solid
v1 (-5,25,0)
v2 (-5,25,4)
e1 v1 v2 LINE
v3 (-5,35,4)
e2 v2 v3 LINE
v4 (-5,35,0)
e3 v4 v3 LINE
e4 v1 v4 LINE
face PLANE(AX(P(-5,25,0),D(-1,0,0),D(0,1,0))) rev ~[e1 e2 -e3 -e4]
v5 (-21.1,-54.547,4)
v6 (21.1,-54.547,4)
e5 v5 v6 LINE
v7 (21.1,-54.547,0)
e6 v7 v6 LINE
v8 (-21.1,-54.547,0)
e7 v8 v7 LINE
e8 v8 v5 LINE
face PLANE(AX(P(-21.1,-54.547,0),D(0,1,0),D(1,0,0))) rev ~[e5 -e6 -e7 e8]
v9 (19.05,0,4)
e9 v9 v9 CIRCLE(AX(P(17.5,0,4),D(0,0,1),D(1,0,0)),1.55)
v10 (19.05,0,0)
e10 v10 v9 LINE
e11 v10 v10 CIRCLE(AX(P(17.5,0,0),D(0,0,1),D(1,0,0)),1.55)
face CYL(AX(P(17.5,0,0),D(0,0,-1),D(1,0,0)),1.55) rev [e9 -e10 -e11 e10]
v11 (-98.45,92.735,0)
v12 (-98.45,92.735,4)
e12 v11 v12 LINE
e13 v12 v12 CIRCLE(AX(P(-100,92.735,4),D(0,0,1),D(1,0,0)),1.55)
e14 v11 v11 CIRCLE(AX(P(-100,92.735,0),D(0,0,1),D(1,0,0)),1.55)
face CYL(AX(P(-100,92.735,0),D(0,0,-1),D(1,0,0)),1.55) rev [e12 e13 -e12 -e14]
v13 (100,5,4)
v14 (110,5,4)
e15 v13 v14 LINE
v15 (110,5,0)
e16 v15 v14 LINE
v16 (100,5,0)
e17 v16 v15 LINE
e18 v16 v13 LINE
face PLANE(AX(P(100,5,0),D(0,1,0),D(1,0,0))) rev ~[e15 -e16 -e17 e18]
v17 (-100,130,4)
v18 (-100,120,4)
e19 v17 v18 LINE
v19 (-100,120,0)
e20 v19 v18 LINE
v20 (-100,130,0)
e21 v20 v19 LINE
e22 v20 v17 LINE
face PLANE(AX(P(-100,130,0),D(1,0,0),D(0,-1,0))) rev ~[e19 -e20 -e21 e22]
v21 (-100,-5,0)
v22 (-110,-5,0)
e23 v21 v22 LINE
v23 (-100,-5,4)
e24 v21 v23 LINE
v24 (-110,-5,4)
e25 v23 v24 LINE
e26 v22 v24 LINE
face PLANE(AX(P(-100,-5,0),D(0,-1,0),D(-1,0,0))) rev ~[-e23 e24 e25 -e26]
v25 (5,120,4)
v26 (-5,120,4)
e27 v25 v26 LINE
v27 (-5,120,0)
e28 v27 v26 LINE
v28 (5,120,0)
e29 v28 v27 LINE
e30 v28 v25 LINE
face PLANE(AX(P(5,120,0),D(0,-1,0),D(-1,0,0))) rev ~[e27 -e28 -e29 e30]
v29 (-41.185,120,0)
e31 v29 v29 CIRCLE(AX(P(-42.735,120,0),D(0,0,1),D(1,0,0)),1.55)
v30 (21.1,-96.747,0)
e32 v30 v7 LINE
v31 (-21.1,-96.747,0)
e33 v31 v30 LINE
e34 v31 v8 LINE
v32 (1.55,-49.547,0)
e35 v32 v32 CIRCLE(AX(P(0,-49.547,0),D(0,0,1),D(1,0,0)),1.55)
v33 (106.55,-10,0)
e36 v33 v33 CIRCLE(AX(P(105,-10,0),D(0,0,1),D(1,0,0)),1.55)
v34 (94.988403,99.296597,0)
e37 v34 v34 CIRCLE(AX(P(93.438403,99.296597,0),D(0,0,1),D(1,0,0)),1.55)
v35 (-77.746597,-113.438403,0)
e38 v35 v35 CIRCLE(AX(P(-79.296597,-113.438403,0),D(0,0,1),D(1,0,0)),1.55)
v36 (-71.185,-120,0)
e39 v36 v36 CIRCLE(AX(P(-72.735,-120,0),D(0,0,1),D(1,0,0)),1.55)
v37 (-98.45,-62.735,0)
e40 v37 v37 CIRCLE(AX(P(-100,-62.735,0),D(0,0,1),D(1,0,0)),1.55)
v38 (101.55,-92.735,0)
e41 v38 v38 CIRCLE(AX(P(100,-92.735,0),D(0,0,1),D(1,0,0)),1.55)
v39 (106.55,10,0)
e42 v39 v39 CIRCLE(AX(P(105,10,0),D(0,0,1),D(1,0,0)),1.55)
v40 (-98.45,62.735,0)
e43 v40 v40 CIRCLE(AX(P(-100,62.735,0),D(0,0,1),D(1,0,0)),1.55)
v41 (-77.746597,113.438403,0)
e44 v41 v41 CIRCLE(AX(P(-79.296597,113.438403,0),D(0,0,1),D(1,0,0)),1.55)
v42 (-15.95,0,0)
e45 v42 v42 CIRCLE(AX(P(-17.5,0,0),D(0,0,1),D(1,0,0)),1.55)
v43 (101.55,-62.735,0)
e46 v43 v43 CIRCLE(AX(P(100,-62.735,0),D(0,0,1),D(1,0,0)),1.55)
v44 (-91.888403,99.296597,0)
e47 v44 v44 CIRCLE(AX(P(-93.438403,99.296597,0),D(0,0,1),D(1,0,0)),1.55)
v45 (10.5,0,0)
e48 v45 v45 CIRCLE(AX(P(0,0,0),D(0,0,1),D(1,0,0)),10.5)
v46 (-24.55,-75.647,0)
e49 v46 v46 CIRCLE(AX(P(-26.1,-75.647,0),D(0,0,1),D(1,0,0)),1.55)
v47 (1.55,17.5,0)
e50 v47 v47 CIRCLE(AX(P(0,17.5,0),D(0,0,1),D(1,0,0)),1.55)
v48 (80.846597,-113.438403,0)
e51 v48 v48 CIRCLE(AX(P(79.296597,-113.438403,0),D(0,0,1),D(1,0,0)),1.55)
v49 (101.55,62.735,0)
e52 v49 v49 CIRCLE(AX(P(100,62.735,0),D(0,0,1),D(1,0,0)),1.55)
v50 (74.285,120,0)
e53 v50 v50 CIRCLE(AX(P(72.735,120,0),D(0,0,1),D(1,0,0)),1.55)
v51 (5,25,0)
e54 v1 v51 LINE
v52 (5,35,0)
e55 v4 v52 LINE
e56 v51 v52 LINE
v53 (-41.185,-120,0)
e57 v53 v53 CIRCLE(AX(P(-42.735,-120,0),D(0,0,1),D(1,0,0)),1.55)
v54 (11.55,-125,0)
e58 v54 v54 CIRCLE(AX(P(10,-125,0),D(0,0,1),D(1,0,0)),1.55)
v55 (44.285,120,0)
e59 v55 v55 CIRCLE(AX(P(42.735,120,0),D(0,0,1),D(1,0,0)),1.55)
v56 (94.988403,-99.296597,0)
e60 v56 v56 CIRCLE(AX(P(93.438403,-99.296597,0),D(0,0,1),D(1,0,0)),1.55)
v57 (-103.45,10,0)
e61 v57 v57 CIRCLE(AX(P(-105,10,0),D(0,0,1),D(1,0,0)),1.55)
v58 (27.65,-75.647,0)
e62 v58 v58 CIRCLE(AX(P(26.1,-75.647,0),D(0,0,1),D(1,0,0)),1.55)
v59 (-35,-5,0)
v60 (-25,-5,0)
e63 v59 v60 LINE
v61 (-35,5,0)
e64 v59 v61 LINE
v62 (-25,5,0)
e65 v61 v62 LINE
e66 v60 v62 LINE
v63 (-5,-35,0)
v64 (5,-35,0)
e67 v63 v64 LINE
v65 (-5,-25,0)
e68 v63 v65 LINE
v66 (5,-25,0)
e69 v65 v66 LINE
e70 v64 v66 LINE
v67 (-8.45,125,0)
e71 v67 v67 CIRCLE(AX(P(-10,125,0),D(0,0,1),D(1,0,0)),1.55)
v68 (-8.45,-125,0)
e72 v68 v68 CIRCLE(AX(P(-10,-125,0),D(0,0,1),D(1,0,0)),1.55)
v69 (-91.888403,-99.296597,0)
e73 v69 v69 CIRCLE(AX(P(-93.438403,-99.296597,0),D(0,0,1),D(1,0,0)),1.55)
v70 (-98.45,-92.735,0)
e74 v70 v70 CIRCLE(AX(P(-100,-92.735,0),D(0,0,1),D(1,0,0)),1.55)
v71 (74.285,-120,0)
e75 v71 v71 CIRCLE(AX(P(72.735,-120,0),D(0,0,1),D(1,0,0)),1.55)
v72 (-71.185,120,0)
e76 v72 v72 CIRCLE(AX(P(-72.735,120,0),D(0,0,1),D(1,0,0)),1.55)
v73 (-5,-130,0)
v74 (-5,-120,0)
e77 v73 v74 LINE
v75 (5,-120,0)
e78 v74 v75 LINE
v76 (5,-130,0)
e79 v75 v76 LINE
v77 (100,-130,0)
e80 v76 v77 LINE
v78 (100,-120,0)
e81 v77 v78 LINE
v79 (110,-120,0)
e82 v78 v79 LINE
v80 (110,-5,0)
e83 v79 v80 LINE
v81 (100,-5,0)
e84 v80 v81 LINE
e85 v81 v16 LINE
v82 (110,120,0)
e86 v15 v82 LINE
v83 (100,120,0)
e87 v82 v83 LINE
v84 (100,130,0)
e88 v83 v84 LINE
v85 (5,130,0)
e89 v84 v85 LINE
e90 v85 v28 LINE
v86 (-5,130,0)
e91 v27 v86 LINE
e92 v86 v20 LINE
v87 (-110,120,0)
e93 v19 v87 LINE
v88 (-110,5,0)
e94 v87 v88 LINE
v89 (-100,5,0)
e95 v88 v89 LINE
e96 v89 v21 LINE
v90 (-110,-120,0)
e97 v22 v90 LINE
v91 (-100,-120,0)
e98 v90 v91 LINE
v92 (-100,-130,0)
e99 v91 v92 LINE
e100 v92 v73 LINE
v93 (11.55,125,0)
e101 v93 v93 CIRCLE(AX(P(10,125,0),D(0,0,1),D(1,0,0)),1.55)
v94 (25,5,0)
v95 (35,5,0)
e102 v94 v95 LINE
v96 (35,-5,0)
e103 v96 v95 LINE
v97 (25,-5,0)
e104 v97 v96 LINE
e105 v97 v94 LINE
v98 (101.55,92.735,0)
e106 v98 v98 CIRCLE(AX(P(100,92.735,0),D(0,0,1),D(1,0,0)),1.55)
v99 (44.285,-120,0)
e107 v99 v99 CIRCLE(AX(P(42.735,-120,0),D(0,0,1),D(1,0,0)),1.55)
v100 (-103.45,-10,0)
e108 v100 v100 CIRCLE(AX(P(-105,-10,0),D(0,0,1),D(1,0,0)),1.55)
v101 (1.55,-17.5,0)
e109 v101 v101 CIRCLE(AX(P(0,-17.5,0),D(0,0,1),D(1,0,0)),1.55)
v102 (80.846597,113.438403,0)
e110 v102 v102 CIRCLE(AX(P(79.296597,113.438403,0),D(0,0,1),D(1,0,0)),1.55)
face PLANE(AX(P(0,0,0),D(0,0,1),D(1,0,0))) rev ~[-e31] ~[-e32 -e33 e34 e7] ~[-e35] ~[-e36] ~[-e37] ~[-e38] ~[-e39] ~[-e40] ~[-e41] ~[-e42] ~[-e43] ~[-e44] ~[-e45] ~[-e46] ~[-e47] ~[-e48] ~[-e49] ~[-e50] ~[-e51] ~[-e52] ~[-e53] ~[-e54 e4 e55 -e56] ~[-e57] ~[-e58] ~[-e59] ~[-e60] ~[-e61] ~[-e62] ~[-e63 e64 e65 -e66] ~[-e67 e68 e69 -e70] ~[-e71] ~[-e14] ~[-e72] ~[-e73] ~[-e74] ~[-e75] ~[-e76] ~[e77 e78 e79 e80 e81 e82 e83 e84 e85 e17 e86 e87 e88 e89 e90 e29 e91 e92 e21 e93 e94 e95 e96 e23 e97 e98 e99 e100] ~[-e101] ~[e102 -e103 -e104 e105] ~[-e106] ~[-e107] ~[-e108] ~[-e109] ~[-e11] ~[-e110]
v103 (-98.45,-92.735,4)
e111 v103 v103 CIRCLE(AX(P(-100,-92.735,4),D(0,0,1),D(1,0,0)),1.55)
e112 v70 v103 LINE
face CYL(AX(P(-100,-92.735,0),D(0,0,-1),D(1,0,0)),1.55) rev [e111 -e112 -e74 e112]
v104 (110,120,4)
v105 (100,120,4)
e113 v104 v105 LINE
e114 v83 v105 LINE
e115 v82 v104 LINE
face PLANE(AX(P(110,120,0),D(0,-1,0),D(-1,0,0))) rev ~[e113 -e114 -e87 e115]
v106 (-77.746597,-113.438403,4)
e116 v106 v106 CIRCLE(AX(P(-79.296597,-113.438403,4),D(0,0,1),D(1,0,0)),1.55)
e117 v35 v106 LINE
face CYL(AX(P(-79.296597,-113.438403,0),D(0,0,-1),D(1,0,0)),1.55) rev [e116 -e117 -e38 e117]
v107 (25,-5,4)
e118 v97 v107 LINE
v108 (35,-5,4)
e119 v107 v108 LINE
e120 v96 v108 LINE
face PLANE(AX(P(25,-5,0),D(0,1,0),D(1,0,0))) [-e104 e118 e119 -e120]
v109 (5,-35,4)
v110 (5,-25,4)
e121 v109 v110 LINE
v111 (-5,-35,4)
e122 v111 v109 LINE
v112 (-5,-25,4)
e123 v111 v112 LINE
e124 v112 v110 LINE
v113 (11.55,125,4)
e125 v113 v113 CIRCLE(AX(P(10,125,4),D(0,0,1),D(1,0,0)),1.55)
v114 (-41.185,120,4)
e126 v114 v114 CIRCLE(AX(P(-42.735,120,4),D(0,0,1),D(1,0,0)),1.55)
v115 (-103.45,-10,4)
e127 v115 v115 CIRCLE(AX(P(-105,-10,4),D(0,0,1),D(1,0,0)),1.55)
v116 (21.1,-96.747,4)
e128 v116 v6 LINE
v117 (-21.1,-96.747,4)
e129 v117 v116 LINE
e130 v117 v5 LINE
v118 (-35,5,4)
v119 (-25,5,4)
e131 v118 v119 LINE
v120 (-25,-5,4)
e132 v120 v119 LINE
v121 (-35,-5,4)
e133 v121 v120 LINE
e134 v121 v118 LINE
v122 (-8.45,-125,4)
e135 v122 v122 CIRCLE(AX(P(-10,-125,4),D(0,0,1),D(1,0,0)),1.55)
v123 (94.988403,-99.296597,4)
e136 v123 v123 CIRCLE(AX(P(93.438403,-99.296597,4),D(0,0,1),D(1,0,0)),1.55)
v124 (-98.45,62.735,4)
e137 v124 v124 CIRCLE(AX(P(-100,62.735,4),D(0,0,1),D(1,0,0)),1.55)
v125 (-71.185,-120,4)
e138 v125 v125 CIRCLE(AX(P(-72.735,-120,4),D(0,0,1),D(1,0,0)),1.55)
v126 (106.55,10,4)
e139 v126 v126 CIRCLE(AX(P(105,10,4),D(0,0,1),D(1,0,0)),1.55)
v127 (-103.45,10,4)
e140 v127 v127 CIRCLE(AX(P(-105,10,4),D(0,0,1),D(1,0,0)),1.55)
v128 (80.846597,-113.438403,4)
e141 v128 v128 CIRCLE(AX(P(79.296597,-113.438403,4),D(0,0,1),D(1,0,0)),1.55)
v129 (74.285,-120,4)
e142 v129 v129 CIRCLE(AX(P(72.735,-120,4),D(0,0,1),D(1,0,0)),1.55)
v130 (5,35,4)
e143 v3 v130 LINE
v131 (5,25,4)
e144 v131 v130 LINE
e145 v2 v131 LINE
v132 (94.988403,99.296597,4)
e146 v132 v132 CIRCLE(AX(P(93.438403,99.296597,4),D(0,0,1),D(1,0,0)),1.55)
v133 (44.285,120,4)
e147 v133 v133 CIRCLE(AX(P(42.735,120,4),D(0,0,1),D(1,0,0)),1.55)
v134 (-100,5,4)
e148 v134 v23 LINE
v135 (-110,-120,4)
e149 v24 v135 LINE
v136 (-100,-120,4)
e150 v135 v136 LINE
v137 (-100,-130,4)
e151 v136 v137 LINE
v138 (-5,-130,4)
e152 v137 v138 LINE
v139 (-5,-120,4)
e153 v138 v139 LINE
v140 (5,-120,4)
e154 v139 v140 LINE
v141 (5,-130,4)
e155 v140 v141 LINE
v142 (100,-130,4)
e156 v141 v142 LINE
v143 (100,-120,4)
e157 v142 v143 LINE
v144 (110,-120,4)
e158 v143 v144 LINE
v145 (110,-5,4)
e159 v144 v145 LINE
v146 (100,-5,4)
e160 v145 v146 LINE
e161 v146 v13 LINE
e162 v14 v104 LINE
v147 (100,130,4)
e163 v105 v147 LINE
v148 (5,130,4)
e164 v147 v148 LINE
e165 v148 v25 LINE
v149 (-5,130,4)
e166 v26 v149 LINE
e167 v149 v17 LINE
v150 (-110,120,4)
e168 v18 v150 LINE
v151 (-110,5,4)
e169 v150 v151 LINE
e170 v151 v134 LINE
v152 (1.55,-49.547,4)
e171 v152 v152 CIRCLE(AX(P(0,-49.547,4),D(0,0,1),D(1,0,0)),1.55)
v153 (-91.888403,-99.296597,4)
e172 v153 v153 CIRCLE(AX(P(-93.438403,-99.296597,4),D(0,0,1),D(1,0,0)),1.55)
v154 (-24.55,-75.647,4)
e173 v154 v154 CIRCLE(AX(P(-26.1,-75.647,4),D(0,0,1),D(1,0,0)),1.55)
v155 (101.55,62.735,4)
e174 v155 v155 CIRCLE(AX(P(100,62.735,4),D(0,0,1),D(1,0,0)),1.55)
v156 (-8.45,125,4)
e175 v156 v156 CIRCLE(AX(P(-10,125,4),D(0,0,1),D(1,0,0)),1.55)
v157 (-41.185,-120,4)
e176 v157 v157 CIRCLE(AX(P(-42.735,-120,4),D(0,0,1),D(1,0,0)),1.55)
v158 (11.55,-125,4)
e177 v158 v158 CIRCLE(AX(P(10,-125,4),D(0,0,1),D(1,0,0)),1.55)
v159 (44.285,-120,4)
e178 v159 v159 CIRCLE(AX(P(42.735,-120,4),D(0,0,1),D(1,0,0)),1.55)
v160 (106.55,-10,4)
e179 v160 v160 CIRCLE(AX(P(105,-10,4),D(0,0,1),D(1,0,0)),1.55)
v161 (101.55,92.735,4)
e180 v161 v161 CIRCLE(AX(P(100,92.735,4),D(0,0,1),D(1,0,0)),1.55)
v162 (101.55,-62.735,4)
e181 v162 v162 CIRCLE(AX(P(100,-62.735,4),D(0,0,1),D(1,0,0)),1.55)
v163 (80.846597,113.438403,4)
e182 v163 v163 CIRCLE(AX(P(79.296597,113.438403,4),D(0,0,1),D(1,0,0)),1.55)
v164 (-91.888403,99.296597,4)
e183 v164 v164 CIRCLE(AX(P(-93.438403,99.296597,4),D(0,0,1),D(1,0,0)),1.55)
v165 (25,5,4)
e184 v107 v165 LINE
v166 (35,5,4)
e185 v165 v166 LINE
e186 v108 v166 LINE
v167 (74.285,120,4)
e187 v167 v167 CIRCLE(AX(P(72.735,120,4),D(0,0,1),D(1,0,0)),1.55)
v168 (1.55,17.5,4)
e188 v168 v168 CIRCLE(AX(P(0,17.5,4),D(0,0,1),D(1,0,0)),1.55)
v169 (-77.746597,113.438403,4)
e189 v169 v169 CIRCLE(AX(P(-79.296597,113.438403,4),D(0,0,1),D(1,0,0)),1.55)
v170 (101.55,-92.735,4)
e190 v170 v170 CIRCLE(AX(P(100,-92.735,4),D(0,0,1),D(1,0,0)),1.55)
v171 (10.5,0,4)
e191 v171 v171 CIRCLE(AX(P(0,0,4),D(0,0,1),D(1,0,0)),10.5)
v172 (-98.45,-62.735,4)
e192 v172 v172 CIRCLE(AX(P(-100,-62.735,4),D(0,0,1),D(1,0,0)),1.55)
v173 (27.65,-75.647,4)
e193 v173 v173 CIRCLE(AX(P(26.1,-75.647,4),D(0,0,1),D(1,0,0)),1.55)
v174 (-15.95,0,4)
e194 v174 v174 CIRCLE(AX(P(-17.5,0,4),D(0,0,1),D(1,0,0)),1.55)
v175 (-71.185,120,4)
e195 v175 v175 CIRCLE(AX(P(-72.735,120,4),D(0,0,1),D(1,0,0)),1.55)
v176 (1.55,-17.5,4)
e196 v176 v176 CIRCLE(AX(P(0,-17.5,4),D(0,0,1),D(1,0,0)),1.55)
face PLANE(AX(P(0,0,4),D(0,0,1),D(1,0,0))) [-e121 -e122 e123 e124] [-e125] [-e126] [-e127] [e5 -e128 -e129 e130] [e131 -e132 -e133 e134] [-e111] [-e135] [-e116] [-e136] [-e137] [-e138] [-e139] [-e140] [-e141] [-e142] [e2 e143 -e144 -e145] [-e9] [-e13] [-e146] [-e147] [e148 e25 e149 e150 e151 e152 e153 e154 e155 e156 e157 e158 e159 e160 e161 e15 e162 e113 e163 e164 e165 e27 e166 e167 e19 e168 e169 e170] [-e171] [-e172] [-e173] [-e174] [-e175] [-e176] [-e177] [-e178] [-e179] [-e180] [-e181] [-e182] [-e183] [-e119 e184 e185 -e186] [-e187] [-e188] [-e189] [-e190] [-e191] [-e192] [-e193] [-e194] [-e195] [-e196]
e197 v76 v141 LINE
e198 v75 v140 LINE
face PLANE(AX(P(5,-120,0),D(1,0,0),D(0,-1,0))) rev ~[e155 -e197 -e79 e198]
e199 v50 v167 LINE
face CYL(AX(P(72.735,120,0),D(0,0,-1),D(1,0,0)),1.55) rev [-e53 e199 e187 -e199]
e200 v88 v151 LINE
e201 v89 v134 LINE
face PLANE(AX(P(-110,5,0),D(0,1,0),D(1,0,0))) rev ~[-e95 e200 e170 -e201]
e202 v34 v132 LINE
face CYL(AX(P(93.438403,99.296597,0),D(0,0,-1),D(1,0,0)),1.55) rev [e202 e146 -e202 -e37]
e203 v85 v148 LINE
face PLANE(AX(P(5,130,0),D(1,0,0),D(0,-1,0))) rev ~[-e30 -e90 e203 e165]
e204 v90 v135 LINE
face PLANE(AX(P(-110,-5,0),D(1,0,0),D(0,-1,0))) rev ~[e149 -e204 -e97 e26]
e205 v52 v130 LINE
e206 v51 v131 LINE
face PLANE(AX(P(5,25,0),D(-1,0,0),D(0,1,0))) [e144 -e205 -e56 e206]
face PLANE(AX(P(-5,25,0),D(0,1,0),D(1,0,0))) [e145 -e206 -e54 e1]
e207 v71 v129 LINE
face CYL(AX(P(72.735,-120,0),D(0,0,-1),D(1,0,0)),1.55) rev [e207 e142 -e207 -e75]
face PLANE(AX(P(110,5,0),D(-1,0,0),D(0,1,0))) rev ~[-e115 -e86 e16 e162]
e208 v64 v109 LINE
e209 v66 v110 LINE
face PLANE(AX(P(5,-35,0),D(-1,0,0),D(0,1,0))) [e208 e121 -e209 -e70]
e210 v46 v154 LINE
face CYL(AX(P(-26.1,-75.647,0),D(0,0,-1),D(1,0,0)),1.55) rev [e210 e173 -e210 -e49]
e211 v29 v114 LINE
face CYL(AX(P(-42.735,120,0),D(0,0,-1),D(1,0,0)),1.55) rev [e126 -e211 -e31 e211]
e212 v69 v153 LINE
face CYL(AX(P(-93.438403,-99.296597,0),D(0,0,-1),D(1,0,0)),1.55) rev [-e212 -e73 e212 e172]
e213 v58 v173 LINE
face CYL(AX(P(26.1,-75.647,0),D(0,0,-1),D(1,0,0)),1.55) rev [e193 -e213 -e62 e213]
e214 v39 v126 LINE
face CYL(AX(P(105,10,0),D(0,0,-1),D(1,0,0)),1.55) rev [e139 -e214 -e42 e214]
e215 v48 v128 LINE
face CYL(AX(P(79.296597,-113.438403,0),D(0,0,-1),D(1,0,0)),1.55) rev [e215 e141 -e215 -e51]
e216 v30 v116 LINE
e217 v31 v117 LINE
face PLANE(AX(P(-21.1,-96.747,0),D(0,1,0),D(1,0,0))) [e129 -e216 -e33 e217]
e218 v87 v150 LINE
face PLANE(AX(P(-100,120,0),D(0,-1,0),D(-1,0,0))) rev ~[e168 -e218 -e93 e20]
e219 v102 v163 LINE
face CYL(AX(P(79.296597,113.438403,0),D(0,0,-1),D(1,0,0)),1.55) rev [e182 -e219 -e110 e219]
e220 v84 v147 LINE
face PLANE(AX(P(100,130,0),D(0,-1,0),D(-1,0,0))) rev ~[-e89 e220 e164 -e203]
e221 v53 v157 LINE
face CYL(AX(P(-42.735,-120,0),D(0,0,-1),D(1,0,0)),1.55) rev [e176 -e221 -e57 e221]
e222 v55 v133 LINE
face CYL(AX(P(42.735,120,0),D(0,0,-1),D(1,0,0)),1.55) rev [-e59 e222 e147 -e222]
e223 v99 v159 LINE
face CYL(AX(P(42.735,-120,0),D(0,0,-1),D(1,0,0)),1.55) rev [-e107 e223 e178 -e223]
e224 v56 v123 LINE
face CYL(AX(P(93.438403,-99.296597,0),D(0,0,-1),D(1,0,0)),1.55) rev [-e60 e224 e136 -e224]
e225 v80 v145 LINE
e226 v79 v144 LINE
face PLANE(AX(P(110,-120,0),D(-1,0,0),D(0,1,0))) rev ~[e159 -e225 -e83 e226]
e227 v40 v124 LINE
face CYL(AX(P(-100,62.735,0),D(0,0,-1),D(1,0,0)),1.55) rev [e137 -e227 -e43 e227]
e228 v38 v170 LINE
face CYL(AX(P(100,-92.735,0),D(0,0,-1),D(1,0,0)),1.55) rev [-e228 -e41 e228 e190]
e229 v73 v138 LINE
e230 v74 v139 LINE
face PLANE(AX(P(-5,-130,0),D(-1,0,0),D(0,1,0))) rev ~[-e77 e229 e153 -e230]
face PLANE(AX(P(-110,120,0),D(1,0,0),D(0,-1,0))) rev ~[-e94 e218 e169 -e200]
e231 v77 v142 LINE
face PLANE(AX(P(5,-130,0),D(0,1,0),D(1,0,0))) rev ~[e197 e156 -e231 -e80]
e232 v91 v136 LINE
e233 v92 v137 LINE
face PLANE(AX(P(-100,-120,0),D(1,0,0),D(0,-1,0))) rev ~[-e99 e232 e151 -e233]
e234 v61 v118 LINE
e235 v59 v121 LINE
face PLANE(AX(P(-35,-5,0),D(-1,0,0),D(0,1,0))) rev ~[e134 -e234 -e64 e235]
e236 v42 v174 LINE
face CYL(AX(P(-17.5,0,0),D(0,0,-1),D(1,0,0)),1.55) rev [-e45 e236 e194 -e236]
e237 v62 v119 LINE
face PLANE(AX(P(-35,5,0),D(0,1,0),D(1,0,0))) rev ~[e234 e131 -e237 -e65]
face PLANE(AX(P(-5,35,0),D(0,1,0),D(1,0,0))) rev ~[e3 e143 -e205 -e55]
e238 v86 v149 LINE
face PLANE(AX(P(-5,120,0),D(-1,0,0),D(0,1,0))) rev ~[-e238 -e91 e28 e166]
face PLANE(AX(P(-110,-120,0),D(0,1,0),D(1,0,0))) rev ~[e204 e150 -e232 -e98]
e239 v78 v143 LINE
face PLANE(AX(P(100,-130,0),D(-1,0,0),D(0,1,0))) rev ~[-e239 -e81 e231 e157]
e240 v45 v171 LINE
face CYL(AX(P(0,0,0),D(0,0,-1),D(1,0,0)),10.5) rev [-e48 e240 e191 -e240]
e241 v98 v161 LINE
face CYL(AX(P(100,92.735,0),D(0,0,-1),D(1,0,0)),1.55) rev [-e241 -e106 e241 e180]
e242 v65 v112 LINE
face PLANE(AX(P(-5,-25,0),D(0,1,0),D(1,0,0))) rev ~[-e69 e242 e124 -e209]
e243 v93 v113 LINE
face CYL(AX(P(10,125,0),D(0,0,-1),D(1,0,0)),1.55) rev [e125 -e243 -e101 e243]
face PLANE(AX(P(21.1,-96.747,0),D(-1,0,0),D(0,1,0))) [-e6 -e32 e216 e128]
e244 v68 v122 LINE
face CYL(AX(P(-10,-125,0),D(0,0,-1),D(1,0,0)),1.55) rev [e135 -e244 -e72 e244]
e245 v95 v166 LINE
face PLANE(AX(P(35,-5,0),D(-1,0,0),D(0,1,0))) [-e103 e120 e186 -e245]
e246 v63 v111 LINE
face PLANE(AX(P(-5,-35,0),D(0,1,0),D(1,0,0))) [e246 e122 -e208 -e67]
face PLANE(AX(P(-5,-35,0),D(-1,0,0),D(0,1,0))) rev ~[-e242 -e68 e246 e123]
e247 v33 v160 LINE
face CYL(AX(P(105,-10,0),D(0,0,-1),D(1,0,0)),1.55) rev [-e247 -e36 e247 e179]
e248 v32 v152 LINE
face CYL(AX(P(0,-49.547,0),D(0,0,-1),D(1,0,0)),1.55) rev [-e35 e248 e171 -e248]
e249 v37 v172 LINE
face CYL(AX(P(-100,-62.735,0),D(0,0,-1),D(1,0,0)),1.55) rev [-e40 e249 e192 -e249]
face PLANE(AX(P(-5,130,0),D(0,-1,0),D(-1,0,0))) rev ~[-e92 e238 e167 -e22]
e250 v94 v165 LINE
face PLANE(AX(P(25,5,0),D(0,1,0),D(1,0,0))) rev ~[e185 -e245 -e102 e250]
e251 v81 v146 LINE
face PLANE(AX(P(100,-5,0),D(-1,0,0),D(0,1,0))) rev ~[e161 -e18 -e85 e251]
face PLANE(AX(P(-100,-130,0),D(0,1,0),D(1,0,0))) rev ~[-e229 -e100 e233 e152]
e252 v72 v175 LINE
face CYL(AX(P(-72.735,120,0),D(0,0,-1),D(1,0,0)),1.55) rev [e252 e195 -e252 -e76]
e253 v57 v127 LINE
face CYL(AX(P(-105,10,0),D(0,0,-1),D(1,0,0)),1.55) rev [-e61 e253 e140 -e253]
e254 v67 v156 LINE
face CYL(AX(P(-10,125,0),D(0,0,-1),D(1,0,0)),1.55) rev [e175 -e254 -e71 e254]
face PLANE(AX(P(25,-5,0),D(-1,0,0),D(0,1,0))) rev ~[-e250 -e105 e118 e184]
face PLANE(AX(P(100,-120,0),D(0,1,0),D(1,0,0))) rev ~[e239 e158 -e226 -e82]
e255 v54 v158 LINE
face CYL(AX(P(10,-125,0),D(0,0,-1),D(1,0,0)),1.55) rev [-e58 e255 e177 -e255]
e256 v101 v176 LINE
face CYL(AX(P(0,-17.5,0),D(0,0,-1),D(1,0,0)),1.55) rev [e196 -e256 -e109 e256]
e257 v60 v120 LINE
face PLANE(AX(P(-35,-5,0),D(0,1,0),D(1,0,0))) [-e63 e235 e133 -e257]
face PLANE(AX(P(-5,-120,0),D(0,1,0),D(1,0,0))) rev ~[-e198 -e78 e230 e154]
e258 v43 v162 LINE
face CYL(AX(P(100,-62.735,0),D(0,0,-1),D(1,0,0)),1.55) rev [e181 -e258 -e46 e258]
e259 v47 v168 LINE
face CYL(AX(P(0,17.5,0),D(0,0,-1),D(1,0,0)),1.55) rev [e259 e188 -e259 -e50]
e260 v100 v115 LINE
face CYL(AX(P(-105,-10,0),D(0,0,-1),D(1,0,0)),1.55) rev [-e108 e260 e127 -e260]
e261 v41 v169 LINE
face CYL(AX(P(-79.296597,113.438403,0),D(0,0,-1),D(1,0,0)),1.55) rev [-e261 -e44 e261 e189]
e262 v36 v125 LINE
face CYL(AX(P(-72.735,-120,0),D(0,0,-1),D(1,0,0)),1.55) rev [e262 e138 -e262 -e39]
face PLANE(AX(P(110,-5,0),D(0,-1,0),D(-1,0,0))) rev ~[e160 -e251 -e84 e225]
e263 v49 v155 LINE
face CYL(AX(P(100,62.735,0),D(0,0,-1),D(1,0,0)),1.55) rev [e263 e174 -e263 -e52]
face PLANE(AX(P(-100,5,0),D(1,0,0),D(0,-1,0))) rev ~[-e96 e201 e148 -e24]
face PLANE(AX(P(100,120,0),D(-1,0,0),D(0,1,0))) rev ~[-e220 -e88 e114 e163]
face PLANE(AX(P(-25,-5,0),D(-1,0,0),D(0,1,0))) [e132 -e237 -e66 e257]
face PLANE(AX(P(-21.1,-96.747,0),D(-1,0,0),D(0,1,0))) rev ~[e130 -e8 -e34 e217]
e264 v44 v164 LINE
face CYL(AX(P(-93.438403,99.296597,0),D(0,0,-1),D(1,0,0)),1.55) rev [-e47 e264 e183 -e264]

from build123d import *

# Parameters (mm, degrees)
F0_R     = 1.55
F0_W     = 42.2
F0_H     = 42.2
F0_W_2   = 10
F0_H_2   = 10
F0_R_2   = 10.5
F1_DEPTH = 4


with BuildPart() as f1:
    # F0 (on Top) → F1 (new body)
    with BuildSketch(Plane.XY):
        Polygon((-100, 120), (-110, 120), (-110, 5), (-100, 5), (-100, -5), (-110, -5), (-110, -120), (-100, -120), (-100, -130), (-5, -130), (-5, -120), (5, -120), (5, -130), (100, -130), (100, -120), (110, -120), (110, -5), (100, -5), (100, 5), (110, 5), (110, 120), (100, 120), (100, 130), (5, 130), (5, 120), (-5, 120), (-5, 130), (-100, 130), align=None)
        with Locations((-93.438403, -99.296597)):
            Circle(F0_R, mode=Mode.SUBTRACT)
        with Locations((-72.735, -120)):
            Circle(F0_R, mode=Mode.SUBTRACT)
        with Locations((-79.296597, -113.438403)):
            Circle(F0_R, mode=Mode.SUBTRACT)
        with Locations((-100, -92.735)):
            Circle(F0_R, mode=Mode.SUBTRACT)
        with Locations((-42.735, -120)):
            Circle(F0_R, mode=Mode.SUBTRACT)
        with Locations((-10, -125)):
            Circle(F0_R, mode=Mode.SUBTRACT)
        with Locations((-26.1, -75.647)):
            Circle(F0_R, mode=Mode.SUBTRACT)
        with Locations((-100, -62.735)):
            Circle(F0_R, mode=Mode.SUBTRACT)
        with Locations((-105, -10)):
            Circle(F0_R, mode=Mode.SUBTRACT)
        with Locations((10, -125)):
            Circle(F0_R, mode=Mode.SUBTRACT)
        with Locations((42.735, -120)):
            Circle(F0_R, mode=Mode.SUBTRACT)
        with Locations((0, -75.647)):
            Rectangle(F0_W, F0_H, mode=Mode.SUBTRACT)
        with Locations((26.1, -75.647)):
            Circle(F0_R, mode=Mode.SUBTRACT)
        with Locations((72.735, -120)):
            Circle(F0_R, mode=Mode.SUBTRACT)
        with Locations((79.296597, -113.438403)):
            Circle(F0_R, mode=Mode.SUBTRACT)
        with Locations((93.438403, -99.296597)):
            Circle(F0_R, mode=Mode.SUBTRACT)
        with Locations((100, -92.735)):
            Circle(F0_R, mode=Mode.SUBTRACT)
        with Locations((0, -49.547)):
            Circle(F0_R, mode=Mode.SUBTRACT)
        with Locations((0, -30)):
            Rectangle(F0_W_2, F0_H_2, mode=Mode.SUBTRACT)
        with Locations((0, -17.5)):
            Circle(F0_R, mode=Mode.SUBTRACT)
        with Locations((100, -62.735)):
            Circle(F0_R, mode=Mode.SUBTRACT)
        with Locations((105, -10)):
            Circle(F0_R, mode=Mode.SUBTRACT)
        with Locations((-105, 10)):
            Circle(F0_R, mode=Mode.SUBTRACT)
        with Locations((-100, 62.735)):
            Circle(F0_R, mode=Mode.SUBTRACT)
        with Locations((-30, 0)):
            Rectangle(F0_W_2, F0_H_2, mode=Mode.SUBTRACT)
        with Locations((-17.5, 0)):
            Circle(F0_R, mode=Mode.SUBTRACT)
        with Locations((-100, 92.735)):
            Circle(F0_R, mode=Mode.SUBTRACT)
        with Locations((-93.438403, 99.296597)):
            Circle(F0_R, mode=Mode.SUBTRACT)
        with Locations((-79.296597, 113.438403)):
            Circle(F0_R, mode=Mode.SUBTRACT)
        with Locations((-72.735, 120)):
            Circle(F0_R, mode=Mode.SUBTRACT)
        with Locations((-42.735, 120)):
            Circle(F0_R, mode=Mode.SUBTRACT)
        with Locations((-10, 125)):
            Circle(F0_R, mode=Mode.SUBTRACT)
        Circle(F0_R_2, mode=Mode.SUBTRACT)
        with Locations((17.5, 0)):
            Circle(F0_R, mode=Mode.SUBTRACT)
        with Locations((0, 17.5)):
            Circle(F0_R, mode=Mode.SUBTRACT)
        with Locations((0, 30)):
            Rectangle(F0_W_2, F0_H_2, mode=Mode.SUBTRACT)
        with Locations((30, 0)):
            Rectangle(F0_W_2, F0_H_2, mode=Mode.SUBTRACT)
        with Locations((105, 10)):
            Circle(F0_R, mode=Mode.SUBTRACT)
        with Locations((100, 62.735)):
            Circle(F0_R, mode=Mode.SUBTRACT)
        with Locations((10, 125)):
            Circle(F0_R, mode=Mode.SUBTRACT)
        with Locations((42.735, 120)):
            Circle(F0_R, mode=Mode.SUBTRACT)
        with Locations((100, 92.735)):
            Circle(F0_R, mode=Mode.SUBTRACT)
        with Locations((79.296597, 113.438403)):
            Circle(F0_R, mode=Mode.SUBTRACT)
        with Locations((72.735, 120)):
            Circle(F0_R, mode=Mode.SUBTRACT)
        with Locations((93.438403, 99.296597)):
            Circle(F0_R, mode=Mode.SUBTRACT)
    extrude(amount=F1_DEPTH)


solid = f1.part
